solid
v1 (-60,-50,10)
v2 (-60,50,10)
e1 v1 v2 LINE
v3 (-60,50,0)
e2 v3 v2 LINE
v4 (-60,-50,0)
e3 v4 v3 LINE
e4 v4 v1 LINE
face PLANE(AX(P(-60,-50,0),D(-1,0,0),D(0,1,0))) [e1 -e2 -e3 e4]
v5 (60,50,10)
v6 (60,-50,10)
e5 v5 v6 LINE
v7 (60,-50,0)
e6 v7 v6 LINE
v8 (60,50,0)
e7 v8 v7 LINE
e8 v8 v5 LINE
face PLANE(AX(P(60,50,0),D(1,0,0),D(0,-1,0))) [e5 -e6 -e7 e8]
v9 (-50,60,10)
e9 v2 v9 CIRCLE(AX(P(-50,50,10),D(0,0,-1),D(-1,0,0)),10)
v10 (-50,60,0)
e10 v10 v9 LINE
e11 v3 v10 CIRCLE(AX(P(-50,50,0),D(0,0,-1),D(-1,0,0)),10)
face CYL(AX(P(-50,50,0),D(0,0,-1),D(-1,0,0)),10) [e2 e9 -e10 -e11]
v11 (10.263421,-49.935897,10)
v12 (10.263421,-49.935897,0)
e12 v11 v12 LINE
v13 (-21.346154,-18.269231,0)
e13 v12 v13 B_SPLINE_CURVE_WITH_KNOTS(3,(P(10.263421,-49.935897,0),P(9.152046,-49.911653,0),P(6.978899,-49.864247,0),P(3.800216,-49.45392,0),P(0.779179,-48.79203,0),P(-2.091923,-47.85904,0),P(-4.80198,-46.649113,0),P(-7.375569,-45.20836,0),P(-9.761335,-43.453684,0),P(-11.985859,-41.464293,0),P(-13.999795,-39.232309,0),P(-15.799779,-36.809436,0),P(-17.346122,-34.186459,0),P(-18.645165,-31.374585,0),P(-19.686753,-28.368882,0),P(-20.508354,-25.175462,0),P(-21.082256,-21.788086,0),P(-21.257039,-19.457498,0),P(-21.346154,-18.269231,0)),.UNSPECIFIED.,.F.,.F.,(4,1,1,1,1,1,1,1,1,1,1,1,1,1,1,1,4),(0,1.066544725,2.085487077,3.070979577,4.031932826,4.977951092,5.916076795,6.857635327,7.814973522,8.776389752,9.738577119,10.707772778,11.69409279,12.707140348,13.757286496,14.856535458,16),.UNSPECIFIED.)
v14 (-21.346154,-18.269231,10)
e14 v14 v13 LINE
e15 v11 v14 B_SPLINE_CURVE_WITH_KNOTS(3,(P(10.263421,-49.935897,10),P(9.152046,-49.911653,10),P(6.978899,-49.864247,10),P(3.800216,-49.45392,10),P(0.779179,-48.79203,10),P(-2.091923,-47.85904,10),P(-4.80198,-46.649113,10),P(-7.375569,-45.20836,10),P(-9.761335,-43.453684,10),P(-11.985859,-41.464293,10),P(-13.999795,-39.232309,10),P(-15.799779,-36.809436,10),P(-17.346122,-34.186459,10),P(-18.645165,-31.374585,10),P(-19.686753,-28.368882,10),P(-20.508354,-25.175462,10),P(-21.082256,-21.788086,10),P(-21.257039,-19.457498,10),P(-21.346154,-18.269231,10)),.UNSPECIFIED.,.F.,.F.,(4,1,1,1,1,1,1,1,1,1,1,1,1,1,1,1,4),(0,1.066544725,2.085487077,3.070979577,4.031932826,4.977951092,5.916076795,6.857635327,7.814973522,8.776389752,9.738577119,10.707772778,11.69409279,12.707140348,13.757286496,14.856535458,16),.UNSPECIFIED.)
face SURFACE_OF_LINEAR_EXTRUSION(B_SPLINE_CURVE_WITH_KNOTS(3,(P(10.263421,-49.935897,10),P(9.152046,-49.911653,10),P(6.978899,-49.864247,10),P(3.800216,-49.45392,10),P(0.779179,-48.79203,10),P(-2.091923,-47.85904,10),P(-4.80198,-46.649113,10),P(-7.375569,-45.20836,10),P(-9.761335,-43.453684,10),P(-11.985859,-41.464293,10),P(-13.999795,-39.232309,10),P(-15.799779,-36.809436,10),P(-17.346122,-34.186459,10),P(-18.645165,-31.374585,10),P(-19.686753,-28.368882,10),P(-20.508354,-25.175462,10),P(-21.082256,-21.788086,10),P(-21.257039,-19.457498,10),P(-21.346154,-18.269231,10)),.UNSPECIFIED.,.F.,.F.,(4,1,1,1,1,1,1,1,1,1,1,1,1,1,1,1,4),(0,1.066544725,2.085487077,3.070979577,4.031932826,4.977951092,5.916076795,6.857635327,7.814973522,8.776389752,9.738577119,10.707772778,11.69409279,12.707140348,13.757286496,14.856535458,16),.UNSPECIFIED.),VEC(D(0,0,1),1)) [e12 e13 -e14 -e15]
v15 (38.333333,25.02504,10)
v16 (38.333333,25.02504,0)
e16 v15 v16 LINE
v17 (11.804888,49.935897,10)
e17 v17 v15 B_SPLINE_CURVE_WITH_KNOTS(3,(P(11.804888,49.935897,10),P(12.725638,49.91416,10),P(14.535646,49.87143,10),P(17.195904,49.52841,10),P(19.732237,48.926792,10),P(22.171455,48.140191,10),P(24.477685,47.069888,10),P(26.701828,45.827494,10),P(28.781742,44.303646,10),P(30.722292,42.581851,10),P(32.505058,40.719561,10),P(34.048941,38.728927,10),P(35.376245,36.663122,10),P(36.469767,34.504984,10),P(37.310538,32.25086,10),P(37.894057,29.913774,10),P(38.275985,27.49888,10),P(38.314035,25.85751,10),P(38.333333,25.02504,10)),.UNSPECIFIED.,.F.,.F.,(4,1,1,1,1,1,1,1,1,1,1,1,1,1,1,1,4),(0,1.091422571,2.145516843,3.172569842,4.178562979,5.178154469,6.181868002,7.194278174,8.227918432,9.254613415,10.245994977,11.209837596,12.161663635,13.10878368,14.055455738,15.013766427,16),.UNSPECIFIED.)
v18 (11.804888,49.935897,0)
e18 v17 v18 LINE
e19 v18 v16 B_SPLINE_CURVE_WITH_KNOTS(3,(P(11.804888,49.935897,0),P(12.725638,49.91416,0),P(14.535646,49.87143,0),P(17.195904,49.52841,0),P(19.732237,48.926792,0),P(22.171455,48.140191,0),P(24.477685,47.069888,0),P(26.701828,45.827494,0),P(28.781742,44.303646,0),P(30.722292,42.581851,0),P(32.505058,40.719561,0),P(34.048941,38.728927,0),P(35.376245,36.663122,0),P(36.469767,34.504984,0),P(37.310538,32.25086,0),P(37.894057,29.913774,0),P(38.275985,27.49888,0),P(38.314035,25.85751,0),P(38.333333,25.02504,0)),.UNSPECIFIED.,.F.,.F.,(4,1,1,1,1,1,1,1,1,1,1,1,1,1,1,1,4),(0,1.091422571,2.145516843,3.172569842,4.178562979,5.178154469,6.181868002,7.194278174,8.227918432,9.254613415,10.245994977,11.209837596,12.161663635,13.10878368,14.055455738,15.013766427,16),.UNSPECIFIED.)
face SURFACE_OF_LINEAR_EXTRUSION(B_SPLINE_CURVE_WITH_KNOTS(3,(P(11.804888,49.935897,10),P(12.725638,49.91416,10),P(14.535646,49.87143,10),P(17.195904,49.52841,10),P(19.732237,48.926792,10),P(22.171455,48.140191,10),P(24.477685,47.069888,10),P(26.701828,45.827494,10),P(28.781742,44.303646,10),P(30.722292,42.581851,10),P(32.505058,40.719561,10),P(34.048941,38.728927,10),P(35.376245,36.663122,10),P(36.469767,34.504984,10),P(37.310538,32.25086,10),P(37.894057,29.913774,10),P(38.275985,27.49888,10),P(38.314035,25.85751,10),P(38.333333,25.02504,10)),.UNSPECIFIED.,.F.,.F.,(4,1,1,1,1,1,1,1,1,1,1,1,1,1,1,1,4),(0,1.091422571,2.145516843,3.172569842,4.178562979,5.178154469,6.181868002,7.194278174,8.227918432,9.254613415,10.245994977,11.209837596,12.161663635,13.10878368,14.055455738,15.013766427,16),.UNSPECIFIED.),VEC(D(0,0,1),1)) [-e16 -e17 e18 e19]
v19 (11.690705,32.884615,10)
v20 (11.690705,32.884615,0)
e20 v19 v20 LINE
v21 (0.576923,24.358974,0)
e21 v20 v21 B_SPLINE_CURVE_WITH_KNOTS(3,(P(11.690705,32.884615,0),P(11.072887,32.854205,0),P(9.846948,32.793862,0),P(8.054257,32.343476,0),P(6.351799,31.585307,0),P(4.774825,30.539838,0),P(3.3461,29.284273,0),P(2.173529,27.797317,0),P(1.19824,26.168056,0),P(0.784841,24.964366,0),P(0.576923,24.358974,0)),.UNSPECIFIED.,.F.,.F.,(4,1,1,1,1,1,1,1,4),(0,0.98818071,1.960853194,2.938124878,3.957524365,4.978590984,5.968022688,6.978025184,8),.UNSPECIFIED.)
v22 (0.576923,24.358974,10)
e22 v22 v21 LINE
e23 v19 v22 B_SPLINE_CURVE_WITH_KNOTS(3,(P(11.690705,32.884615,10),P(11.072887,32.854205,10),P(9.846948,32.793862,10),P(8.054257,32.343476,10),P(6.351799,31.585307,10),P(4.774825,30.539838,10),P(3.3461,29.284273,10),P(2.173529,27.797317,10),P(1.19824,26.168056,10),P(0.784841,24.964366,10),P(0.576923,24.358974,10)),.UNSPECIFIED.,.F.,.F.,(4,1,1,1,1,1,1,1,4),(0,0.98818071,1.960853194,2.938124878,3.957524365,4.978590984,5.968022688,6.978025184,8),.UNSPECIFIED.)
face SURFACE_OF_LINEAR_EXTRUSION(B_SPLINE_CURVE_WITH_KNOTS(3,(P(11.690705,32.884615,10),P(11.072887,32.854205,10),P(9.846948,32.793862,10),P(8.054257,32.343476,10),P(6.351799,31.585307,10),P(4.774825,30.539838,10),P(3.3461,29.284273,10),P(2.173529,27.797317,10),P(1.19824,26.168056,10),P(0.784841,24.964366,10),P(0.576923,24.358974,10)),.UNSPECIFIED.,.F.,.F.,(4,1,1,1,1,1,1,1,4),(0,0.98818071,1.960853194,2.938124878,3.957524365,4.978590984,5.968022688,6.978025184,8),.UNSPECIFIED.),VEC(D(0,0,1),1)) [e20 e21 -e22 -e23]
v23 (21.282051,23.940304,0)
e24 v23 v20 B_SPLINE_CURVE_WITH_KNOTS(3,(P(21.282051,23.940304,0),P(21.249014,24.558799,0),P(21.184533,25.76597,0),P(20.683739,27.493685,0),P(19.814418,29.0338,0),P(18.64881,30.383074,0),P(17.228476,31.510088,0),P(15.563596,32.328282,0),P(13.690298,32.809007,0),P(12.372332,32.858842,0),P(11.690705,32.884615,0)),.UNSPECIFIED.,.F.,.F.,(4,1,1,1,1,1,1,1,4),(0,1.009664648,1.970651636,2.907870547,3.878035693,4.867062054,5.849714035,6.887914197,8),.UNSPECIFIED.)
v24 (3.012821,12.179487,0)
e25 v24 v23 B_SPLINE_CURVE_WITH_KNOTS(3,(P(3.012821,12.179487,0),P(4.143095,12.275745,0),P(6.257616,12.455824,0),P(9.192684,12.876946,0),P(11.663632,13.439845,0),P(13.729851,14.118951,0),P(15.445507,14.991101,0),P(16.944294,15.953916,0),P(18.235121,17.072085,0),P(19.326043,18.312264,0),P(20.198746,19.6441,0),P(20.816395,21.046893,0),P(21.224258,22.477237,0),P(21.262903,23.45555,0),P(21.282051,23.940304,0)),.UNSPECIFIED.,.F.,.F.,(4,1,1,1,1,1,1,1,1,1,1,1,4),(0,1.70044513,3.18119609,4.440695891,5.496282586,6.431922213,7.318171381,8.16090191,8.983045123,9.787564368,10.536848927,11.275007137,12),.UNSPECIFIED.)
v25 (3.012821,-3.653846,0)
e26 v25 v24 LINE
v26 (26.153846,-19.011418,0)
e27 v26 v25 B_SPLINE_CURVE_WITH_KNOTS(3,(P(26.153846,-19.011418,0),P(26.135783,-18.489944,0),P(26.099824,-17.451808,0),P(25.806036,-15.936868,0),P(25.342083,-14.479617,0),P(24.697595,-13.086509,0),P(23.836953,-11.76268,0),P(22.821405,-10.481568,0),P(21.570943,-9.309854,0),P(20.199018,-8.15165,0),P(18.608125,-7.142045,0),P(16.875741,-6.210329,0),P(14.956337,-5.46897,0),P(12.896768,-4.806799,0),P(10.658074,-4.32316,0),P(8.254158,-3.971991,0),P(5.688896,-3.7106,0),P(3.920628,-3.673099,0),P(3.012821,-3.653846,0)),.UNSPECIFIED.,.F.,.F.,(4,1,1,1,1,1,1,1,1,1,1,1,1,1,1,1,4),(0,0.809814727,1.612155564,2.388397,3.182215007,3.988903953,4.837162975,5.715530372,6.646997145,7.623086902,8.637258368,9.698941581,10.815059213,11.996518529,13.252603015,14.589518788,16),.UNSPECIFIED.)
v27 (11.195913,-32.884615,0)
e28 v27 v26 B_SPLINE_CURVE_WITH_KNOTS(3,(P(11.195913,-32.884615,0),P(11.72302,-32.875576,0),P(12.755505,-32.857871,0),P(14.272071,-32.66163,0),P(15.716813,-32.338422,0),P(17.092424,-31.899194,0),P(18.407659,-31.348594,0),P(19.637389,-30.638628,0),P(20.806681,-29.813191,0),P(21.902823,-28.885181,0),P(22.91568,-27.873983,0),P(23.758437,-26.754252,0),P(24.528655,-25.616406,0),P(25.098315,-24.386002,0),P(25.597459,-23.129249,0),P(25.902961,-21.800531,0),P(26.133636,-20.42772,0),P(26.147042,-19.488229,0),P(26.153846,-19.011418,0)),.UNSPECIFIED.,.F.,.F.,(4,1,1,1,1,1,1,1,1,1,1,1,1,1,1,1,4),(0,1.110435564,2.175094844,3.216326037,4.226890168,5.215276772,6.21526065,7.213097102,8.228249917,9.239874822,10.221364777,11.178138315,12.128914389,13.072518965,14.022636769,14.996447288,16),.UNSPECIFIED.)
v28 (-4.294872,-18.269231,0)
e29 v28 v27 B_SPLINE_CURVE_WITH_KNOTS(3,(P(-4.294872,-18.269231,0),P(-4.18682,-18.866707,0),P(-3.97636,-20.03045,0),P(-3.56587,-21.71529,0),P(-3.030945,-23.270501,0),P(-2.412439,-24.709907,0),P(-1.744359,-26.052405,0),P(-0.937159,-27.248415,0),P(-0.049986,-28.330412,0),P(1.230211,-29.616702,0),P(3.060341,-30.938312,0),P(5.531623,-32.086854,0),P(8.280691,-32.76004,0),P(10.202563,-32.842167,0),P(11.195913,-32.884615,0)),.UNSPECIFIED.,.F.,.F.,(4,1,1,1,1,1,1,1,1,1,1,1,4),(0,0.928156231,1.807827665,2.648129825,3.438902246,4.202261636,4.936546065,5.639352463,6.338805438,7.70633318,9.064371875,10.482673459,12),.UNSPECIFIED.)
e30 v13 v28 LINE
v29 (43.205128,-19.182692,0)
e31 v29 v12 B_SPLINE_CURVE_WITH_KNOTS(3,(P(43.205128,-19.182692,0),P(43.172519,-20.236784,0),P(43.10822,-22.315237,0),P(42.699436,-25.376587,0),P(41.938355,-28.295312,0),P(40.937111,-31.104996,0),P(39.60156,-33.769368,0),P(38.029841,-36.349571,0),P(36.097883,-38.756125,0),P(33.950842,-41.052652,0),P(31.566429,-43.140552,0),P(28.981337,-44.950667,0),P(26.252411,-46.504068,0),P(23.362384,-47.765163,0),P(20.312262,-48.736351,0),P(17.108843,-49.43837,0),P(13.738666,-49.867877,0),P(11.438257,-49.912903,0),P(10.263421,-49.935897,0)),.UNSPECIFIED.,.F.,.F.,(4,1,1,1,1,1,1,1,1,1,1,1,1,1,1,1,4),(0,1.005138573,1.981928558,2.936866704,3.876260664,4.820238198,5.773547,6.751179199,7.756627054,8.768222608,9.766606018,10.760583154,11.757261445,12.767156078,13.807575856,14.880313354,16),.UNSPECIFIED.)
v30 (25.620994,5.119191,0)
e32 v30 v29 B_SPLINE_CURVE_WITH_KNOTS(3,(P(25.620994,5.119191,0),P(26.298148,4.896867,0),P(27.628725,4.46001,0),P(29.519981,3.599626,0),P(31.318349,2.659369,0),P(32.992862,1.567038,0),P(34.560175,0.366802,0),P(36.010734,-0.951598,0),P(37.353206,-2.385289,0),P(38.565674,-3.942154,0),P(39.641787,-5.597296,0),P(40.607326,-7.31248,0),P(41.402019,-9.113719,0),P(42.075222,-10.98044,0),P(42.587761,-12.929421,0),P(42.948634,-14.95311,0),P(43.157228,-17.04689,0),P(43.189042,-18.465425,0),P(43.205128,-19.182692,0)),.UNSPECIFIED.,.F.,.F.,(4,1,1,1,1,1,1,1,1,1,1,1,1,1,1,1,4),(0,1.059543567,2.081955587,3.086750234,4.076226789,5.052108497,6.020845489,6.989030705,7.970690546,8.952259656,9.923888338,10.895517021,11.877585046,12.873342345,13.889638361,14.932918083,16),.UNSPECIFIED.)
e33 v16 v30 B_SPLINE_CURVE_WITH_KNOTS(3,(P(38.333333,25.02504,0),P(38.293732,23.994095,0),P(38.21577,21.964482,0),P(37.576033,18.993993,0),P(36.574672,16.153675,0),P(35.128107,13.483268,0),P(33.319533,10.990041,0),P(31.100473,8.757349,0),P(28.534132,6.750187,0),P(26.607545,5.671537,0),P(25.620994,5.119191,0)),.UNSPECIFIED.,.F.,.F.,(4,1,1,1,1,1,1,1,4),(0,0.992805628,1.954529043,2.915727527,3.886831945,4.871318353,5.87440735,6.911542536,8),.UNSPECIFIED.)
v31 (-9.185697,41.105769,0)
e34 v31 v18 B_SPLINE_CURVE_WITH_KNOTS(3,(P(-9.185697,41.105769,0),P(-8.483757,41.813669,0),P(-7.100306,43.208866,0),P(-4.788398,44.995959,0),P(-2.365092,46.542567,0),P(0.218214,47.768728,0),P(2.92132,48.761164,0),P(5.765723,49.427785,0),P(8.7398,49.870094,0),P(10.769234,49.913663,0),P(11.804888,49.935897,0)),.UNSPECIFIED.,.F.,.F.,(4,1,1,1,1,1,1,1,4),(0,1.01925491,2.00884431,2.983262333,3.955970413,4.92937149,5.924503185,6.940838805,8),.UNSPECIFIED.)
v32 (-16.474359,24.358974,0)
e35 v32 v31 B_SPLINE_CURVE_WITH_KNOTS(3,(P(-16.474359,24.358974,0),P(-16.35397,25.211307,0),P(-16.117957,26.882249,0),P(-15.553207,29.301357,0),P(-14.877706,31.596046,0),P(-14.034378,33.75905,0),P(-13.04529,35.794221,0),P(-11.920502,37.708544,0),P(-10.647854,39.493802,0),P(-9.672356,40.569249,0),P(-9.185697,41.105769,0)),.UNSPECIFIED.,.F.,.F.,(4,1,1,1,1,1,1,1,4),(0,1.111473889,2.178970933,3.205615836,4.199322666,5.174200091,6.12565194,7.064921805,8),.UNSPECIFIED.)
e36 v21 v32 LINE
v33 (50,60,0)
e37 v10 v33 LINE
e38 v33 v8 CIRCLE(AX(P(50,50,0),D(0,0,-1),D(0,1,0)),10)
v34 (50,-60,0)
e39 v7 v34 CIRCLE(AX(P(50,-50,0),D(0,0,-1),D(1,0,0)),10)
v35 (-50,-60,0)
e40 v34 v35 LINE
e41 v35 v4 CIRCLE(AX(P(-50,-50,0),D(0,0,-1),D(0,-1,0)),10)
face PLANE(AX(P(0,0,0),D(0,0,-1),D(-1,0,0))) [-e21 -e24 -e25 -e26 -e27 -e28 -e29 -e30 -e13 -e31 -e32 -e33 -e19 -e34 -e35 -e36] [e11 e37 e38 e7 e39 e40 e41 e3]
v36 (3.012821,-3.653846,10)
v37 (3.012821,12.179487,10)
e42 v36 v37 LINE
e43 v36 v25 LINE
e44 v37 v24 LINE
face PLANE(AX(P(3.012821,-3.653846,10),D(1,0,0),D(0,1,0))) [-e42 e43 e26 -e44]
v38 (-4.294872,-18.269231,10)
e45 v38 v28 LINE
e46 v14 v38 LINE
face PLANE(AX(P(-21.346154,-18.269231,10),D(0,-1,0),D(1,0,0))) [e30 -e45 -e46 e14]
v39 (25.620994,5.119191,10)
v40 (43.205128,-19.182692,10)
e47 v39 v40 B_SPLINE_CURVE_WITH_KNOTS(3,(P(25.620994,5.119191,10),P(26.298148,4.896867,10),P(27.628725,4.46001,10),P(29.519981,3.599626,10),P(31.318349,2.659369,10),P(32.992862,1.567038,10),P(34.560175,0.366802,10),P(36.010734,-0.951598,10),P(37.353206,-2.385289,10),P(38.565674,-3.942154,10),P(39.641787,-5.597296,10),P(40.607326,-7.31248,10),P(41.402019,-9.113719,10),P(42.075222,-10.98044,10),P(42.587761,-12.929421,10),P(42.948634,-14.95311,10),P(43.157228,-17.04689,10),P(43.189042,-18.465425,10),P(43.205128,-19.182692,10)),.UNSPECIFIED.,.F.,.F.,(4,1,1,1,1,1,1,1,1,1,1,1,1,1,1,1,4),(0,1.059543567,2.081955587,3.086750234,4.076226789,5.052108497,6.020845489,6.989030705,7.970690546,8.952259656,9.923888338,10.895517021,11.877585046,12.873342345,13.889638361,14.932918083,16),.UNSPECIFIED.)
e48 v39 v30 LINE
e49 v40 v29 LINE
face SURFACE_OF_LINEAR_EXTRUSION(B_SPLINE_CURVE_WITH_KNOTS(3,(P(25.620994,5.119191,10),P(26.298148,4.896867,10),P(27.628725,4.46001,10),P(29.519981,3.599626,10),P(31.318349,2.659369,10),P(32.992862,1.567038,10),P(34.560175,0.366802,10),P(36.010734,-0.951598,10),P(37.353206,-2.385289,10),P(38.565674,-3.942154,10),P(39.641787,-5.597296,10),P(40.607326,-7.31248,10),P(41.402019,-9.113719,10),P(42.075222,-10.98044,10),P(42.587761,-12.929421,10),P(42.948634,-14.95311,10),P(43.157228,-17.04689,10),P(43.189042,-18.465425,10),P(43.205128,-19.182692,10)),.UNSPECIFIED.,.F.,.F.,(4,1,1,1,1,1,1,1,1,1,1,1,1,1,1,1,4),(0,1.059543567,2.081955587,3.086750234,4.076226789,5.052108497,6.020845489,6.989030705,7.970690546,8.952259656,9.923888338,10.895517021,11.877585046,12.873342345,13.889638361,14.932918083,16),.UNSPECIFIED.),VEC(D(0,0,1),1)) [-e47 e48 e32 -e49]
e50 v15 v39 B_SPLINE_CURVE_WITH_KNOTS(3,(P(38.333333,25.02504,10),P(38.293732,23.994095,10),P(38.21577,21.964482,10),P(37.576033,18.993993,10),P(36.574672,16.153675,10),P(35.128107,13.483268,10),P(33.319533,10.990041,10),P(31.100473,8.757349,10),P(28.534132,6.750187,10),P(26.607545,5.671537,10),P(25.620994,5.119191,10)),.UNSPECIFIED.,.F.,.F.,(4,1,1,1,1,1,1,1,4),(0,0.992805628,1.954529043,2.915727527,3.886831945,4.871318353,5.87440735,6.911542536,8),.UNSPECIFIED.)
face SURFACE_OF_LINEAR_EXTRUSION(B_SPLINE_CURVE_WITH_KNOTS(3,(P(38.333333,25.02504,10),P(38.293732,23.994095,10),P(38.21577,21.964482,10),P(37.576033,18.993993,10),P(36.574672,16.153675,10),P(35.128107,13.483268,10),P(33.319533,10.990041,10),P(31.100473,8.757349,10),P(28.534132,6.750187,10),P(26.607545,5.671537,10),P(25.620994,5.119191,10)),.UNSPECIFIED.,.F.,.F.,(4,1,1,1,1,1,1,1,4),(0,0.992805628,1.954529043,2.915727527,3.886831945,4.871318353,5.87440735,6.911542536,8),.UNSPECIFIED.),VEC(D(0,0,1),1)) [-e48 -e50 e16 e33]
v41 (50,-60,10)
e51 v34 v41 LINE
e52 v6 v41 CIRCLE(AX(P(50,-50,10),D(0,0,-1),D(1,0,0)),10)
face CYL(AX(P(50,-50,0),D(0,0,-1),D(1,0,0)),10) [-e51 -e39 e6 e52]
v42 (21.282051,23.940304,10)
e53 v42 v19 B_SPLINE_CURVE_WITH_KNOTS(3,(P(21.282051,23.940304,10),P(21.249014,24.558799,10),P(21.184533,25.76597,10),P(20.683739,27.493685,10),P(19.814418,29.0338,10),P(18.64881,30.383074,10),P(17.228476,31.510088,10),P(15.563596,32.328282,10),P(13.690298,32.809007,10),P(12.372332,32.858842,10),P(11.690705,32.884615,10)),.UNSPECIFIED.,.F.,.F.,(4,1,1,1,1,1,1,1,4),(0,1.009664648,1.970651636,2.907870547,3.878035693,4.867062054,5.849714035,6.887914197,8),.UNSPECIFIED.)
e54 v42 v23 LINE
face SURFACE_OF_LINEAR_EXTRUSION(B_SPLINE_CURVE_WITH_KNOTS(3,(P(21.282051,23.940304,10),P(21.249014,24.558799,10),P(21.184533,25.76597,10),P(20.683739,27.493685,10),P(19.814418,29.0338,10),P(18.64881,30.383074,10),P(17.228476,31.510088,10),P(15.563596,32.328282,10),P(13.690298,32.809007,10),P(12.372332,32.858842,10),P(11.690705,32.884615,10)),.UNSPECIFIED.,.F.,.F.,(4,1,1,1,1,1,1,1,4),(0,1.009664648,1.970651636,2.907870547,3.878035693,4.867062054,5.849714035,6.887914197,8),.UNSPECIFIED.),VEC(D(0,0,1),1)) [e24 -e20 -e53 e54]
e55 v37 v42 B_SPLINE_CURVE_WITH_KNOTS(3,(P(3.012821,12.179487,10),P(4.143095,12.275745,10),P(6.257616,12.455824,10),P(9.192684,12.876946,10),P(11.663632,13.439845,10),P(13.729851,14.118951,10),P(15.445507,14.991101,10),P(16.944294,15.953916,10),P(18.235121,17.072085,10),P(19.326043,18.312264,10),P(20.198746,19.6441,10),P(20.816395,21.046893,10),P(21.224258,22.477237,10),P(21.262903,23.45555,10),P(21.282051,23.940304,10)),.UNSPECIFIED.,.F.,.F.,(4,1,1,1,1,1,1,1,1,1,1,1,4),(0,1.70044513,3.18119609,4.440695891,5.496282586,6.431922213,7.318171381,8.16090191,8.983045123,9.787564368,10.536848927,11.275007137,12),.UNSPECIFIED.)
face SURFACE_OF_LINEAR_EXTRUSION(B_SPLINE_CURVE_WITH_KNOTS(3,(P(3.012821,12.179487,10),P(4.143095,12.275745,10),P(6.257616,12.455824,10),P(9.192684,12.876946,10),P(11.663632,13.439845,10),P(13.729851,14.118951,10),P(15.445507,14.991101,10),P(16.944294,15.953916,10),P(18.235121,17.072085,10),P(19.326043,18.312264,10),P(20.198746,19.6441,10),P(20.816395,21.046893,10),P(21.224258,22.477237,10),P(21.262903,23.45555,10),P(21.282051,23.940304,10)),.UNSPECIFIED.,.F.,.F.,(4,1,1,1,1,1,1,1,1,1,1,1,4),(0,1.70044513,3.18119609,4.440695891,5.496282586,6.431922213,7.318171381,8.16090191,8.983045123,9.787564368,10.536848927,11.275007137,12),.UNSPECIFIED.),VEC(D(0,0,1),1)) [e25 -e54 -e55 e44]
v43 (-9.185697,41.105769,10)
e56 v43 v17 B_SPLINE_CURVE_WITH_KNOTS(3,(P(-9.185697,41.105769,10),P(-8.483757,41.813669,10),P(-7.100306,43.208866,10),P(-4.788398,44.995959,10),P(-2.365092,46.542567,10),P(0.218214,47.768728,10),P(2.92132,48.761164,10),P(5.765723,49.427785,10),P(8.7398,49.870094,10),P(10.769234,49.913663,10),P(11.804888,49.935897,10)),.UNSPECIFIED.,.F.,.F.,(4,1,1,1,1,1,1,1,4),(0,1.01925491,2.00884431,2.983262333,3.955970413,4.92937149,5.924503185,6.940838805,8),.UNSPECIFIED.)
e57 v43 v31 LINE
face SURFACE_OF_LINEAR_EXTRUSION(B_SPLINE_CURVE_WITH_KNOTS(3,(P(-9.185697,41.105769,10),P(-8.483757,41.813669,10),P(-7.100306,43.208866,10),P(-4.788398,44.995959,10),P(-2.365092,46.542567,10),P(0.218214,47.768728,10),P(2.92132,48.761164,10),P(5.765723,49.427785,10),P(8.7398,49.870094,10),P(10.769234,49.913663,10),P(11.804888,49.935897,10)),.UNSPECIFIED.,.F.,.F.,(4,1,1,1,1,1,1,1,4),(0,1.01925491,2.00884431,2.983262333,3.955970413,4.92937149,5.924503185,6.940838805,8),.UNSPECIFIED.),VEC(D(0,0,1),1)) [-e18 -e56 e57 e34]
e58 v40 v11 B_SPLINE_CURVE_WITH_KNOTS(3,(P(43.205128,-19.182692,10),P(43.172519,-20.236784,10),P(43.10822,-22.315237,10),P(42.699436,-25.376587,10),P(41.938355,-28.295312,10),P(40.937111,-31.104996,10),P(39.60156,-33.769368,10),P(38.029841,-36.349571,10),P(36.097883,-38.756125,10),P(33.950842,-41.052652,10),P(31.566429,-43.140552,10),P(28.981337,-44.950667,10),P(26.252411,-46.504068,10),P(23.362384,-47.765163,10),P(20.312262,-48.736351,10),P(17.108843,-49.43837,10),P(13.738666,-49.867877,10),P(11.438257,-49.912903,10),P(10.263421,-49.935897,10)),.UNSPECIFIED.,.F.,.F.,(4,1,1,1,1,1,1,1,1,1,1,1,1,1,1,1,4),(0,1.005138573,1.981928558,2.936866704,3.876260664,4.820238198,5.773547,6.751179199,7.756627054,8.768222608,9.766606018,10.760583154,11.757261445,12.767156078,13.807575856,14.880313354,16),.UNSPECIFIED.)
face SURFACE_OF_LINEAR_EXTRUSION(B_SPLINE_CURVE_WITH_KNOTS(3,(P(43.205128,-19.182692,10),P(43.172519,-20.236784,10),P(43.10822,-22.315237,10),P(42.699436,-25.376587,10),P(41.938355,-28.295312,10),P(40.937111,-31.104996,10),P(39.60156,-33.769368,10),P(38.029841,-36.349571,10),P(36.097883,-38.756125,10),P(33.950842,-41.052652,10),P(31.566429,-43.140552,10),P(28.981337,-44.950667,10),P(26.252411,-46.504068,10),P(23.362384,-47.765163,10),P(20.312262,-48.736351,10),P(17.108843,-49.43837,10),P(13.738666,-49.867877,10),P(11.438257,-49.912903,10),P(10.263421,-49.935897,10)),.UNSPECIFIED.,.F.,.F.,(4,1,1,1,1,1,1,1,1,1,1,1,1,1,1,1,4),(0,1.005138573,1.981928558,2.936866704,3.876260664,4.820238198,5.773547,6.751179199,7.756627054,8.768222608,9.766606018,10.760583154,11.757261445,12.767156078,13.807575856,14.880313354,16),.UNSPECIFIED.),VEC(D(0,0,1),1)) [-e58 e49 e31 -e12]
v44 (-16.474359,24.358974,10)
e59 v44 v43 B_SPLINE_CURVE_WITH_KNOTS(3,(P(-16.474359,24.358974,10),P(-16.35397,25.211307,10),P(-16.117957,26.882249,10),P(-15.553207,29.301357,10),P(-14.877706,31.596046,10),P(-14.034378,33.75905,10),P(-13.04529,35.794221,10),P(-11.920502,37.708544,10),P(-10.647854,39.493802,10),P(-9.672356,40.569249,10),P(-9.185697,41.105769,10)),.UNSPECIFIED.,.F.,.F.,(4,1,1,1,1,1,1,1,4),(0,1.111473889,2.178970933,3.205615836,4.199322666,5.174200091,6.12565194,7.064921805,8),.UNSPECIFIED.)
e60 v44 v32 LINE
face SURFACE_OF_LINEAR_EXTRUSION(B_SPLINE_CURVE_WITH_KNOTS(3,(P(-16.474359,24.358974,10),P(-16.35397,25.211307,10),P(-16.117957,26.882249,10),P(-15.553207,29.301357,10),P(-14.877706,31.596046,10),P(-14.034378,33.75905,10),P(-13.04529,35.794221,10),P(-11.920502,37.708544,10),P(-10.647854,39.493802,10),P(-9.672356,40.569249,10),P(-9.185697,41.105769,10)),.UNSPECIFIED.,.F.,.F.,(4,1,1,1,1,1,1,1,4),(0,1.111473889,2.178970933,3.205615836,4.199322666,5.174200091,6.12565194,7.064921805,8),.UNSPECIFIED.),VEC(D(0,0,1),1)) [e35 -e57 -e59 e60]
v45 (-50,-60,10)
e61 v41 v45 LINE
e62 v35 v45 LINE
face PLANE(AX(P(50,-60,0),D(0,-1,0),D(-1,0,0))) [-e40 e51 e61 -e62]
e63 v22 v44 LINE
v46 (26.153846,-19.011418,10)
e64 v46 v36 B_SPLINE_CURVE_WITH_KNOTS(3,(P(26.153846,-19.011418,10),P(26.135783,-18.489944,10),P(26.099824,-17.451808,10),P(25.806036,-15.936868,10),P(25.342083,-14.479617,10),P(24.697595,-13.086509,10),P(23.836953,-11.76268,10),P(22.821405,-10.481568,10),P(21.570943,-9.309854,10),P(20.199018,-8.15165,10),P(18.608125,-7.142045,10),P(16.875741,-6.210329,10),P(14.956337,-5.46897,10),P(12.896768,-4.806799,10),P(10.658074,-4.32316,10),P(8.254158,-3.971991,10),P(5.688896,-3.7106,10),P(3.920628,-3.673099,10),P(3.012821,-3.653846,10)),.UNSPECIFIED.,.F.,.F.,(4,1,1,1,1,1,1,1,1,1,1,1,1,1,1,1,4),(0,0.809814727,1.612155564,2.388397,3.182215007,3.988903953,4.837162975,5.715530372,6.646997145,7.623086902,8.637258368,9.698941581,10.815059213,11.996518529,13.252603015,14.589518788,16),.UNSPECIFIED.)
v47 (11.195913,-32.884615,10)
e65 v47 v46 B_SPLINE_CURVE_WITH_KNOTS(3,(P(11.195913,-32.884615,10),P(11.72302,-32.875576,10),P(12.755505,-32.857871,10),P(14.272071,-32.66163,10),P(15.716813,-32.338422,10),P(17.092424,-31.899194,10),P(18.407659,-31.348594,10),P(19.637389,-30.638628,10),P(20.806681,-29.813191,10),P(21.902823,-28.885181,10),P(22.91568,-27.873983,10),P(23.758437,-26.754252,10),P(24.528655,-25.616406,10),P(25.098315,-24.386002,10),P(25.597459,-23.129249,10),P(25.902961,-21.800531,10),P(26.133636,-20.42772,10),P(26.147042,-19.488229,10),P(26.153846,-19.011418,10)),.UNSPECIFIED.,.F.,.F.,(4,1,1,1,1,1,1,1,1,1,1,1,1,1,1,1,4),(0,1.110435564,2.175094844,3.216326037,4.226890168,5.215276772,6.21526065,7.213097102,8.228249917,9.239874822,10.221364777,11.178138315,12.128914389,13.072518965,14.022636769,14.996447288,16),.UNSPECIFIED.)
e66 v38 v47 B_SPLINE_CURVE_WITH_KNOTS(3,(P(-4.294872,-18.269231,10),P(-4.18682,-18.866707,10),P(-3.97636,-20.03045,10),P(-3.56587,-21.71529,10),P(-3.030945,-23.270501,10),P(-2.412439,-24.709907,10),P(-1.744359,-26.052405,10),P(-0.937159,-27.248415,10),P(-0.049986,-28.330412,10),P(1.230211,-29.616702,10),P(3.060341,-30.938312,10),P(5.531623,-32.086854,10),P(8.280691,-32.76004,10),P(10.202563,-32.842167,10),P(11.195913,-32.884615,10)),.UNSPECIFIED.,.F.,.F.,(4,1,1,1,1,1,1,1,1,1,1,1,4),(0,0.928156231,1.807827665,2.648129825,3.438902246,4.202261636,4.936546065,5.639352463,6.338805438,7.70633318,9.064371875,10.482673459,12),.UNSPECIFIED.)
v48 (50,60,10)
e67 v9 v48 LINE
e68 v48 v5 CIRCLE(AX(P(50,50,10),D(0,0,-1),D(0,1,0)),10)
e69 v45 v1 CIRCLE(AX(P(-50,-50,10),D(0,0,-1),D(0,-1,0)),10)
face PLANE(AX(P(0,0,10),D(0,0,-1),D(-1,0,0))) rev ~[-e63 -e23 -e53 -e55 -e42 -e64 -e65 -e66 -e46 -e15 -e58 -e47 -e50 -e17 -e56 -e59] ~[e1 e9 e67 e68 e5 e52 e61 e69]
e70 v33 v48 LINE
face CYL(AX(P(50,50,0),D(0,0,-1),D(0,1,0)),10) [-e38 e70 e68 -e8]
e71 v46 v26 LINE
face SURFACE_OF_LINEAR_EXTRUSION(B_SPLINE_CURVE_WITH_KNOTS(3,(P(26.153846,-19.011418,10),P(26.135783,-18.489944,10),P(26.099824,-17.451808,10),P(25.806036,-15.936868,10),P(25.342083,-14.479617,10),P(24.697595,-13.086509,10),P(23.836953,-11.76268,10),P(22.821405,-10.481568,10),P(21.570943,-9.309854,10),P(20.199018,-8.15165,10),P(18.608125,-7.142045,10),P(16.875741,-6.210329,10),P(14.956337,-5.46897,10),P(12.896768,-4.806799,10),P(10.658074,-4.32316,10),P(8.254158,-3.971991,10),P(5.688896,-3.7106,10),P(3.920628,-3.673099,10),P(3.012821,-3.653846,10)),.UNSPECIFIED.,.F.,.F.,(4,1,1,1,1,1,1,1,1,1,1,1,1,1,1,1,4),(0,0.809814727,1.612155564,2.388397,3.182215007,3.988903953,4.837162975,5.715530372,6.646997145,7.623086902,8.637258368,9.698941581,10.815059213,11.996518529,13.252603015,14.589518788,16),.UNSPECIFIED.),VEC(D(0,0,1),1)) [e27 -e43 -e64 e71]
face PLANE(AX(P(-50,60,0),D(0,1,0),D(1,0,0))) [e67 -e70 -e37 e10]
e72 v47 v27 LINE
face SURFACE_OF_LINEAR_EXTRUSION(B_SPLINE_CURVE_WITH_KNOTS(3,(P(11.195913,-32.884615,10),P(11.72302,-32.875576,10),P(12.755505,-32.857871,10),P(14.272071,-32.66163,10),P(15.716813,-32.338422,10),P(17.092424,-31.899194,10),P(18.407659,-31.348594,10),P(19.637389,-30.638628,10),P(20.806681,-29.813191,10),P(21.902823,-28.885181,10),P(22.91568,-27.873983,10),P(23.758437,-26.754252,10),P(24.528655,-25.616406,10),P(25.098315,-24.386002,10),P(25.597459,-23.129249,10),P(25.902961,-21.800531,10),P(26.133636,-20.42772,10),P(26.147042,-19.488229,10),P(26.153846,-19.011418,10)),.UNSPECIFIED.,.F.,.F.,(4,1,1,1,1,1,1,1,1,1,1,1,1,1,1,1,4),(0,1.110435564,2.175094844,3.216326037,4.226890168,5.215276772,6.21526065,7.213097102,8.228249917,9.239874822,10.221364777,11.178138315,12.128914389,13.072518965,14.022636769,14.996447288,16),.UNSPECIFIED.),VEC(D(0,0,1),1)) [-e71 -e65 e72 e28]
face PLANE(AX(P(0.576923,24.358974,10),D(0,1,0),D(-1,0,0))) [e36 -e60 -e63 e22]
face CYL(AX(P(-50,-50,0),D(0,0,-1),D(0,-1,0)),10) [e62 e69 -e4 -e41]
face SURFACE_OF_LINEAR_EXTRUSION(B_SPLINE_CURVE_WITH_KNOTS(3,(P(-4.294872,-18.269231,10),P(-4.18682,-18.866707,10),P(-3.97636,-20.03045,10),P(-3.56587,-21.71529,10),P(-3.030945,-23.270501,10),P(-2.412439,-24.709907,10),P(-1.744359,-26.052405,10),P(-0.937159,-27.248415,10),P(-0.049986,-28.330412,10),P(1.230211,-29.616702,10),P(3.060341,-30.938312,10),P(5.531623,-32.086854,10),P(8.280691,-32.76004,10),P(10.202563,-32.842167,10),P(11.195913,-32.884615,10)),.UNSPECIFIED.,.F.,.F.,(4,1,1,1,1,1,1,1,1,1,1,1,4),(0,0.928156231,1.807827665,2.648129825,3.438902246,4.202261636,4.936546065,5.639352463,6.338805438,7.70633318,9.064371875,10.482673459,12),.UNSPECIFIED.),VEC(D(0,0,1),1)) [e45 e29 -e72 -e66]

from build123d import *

# Parameters (mm, degrees)
BOSS_EXTRUDE1_DEPTH = 10
CUT_EXTRUDE1_DEPTH  = 10


with BuildPart() as part:
    # Sketch1 → Boss-Extrude1 (new body)
    with BuildSketch(Plane.XY):
        with BuildLine():
            Line((-50, 60), (50, 60))
            ThreePointArc((50, 60), (57.071067812, 57.071067812), (60, 50))
            Line((60, 50), (60, -50))
            ThreePointArc((60, -50), (57.071067812, -57.071067812), (50, -60))
            Line((50, -60), (-50, -60))
            ThreePointArc((-50, -60), (-57.071067812, -57.071067812), (-60, -50))
            Line((-60, -50), (-60, 50))
            ThreePointArc((-60, 50), (-57.071067812, 57.071067812), (-50, 60))
        make_face()
    extrude(amount=BOSS_EXTRUDE1_DEPTH)

    # Sketch2 → Cut-Extrude1 (cut)
    with BuildSketch(Plane.XY.offset(10)):
        with BuildLine():
            Line((0.576923077, 24.358974359), (-16.474358974, 24.358974359))
            add(Edge.make_bspline(
                [(-16.474358974, 24.358974359), (-16.353970438, 25.211307119), (-16.117956688, 26.882249036), (-15.553207348, 29.301356677), (-14.877706194, 31.596045832), (-14.034377515, 33.75904969), (-13.045290174, 35.794221276), (-11.920502083, 37.708544306), (-10.647853859, 39.493802146), (-9.672355516, 40.569248555), (-9.185697115, 41.105769231)],
                knots=[0, 0, 0, 0, 1.111473889, 2.178970933, 3.205615836, 4.199322666, 5.174200091, 6.12565194, 7.064921805, 8, 8, 8, 8], degree=3))
            add(Edge.make_bspline(
                [(-9.185697115, 41.105769231), (-8.483756858, 41.813669386), (-7.10030638, 43.208866194), (-4.788398372, 44.995959193), (-2.365091827, 46.542566651), (0.218213736, 47.768728226), (2.92132013, 48.761163974), (5.765723399, 49.427785309), (8.739800279, 49.87009445), (10.769233604, 49.913663441), (11.804887821, 49.935897436)],
                knots=[0, 0, 0, 0, 1.01925491, 2.00884431, 2.983262333, 3.955970413, 4.92937149, 5.924503185, 6.940838805, 8, 8, 8, 8], degree=3))
            add(Edge.make_bspline(
                [(11.804887821, 49.935897436), (12.725637707, 49.914160335), (14.535646445, 49.871429576), (17.19590386, 49.528410226), (19.732236676, 48.926792485), (22.171454673, 48.140190789), (24.477684901, 47.069887718), (26.701828098, 45.82749366), (28.781741625, 44.303645718), (30.722292085, 42.581850898), (32.505057791, 40.719561249), (34.048940704, 38.728926766), (35.376244548, 36.663121884), (36.469767354, 34.504983674), (37.31053779, 32.250860305), (37.894057408, 29.913773543), (38.275985165, 27.498880346), (38.31403515, 25.857509967), (38.333333333, 25.025040064)],
                knots=[0, 0, 0, 0, 1.091422571, 2.145516843, 3.172569842, 4.178562979, 5.178154469, 6.181868002, 7.194278174, 8.227918432, 9.254613415, 10.245994977, 11.209837596, 12.161663635, 13.10878368, 14.055455738, 15.013766427, 16, 16, 16, 16], degree=3))
            add(Edge.make_bspline(
                [(38.333333333, 25.025040064), (38.293732308, 23.994095409), (38.215770063, 21.964482346), (37.576033403, 18.993992832), (36.574671568, 16.153674752), (35.128107, 13.483268429), (33.319532856, 10.990041205), (31.100472953, 8.757349154), (28.534131878, 6.750186691), (26.607545449, 5.671537337), (25.62099359, 5.119190705)],
                knots=[0, 0, 0, 0, 0.992805628, 1.954529043, 2.915727527, 3.886831945, 4.871318353, 5.87440735, 6.911542536, 8, 8, 8, 8], degree=3))
            add(Edge.make_bspline(
                [(25.62099359, 5.119190705), (26.298147652, 4.896866769), (27.628725011, 4.460010206), (29.51998074, 3.599626149), (31.31834883, 2.659368988), (32.99286203, 1.567038026), (34.560175394, 0.366802286), (36.010734394, -0.951598279), (37.353205786, -2.385288944), (38.565674269, -3.942154462), (39.641787421, -5.5972958), (40.607326451, -7.312480175), (41.402018895, -9.113718663), (42.07522233, -10.980439908), (42.587761098, -12.929421022), (42.94863419, -14.953109858), (43.157227694, -17.046890251), (43.189041761, -18.465425199), (43.205128205, -19.182692308)],
                knots=[0, 0, 0, 0, 1.059543567, 2.081955587, 3.086750234, 4.076226789, 5.052108497, 6.020845489, 6.989030705, 7.970690546, 8.952259656, 9.923888338, 10.895517021, 11.877585046, 12.873342345, 13.889638361, 14.932918083, 16, 16, 16, 16], degree=3))
            add(Edge.make_bspline(
                [(43.205128205, -19.182692308), (43.17251882, -20.236783738), (43.108219755, -22.315237362), (42.699436391, -25.376586846), (41.938355422, -28.295311592), (40.937111249, -31.104995931), (39.601560188, -33.769367864), (38.029841121, -36.34957109), (36.097882591, -38.756124872), (33.950842418, -41.052652256), (31.566429135, -43.140552122), (28.981337229, -44.950667352), (26.252410658, -46.504068279), (23.362384275, -47.765163409), (20.312262141, -48.736350893), (17.108842711, -49.438369972), (13.738666093, -49.86787686), (11.438256871, -49.912902514), (10.263421474, -49.935897436)],
                knots=[0, 0, 0, 0, 1.005138573, 1.981928558, 2.936866704, 3.876260664, 4.820238198, 5.773547, 6.751179199, 7.756627054, 8.768222608, 9.766606018, 10.760583154, 11.757261445, 12.767156078, 13.807575856, 14.880313354, 16, 16, 16, 16], degree=3))
            add(Edge.make_bspline(
                [(10.263421474, -49.935897436), (9.152046138, -49.911653178), (6.978898733, -49.86424674), (3.800215835, -49.453919993), (0.779178625, -48.792029652), (-2.09192263, -47.859040331), (-4.801979884, -46.649112625), (-7.375568975, -45.208360206), (-9.761334505, -43.453683826), (-11.985858603, -41.464292892), (-13.999794607, -39.232309222), (-15.799779124, -36.809435607), (-17.34612218, -34.186458852), (-18.645165347, -31.374585409), (-19.686753045, -28.368882405), (-20.508354364, -25.175462089), (-21.082256332, -21.788085508), (-21.25703938, -19.457498358), (-21.346153846, -18.269230769)],
                knots=[0, 0, 0, 0, 1.066544725, 2.085487077, 3.070979577, 4.031932826, 4.977951092, 5.916076795, 6.857635327, 7.814973522, 8.776389752, 9.738577119, 10.707772778, 11.69409279, 12.707140348, 13.757286496, 14.856535458, 16, 16, 16, 16], degree=3))
            Line((-21.346153846, -18.269230769), (-4.294871795, -18.269230769))
            add(Edge.make_bspline(
                [(-4.294871795, -18.269230769), (-4.186819599, -18.866707312), (-3.97635961, -20.030449564), (-3.56587031, -21.715289641), (-3.030945483, -23.270501097), (-2.412439293, -24.709906604), (-1.744359491, -26.052405056), (-0.937159331, -27.248414671), (-0.049986198, -28.330412012), (1.2302111, -29.616702375), (3.060341313, -30.938312023), (5.531623414, -32.086853681), (8.280690724, -32.7600402), (10.202562942, -32.842166887), (11.195913462, -32.884615385)],
                knots=[0, 0, 0, 0, 0.928156231, 1.807827665, 2.648129825, 3.438902246, 4.202261636, 4.936546065, 5.639352463, 6.338805438, 7.70633318, 9.064371875, 10.482673459, 12, 12, 12, 12], degree=3))
            add(Edge.make_bspline(
                [(11.195913462, -32.884615385), (11.723020359, -32.875576377), (12.755504848, -32.857870983), (14.272070822, -32.661630398), (15.716813447, -32.338422007), (17.092423634, -31.899193782), (18.407658596, -31.34859374), (19.637389454, -30.638627935), (20.8066812, -29.813191335), (21.902822566, -28.885181468), (22.915679777, -27.873982913), (23.758436542, -26.754252311), (24.528655243, -25.616405886), (25.098314545, -24.386001717), (25.597458818, -23.129248692), (25.902960612, -21.800530617), (26.133636405, -20.427720421), (26.147042356, -19.488229388), (26.153846154, -19.011418269)],
                knots=[0, 0, 0, 0, 1.110435564, 2.175094844, 3.216326037, 4.226890168, 5.215276772, 6.21526065, 7.213097102, 8.228249917, 9.239874822, 10.221364777, 11.178138315, 12.128914389, 13.072518965, 14.022636769, 14.996447288, 16, 16, 16, 16], degree=3))
            add(Edge.make_bspline(
                [(26.153846154, -19.011418269), (26.135783345, -18.489944075), (26.099824432, -17.451808443), (25.806036347, -15.936867778), (25.342082867, -14.479616956), (24.697594812, -13.086509368), (23.836952841, -11.762679732), (22.821404918, -10.481568019), (21.570942657, -9.309853806), (20.199018093, -8.151649816), (18.608124558, -7.142045251), (16.8757408, -6.210328579), (14.956337088, -5.468969755), (12.896767777, -4.806799007), (10.658074191, -4.323159778), (8.254157787, -3.971990559), (5.688896433, -3.710599501), (3.920628445, -3.673098649), (3.012820513, -3.653846154)],
                knots=[0, 0, 0, 0, 0.809814727, 1.612155564, 2.388397, 3.182215007, 3.988903953, 4.837162975, 5.715530372, 6.646997145, 7.623086902, 8.637258368, 9.698941581, 10.815059213, 11.996518529, 13.252603015, 14.589518788, 16, 16, 16, 16], degree=3))
            Line((3.012820513, -3.653846154), (3.012820513, 12.179487179))
            add(Edge.make_bspline(
                [(3.012820513, 12.179487179), (4.143095378, 12.275745003), (6.257615816, 12.455824329), (9.192683563, 12.876946094), (11.663632261, 13.439844668), (13.729851196, 14.118951328), (15.445507012, 14.991101207), (16.944294459, 15.953916158), (18.235121106, 17.072085016), (19.326042778, 18.312264133), (20.198746175, 19.644100211), (20.816394798, 21.04689257), (21.22425768, 22.477237082), (21.262902657, 23.455549618), (21.282051282, 23.940304487)],
                knots=[0, 0, 0, 0, 1.70044513, 3.18119609, 4.440695891, 5.496282586, 6.431922213, 7.318171381, 8.16090191, 8.983045123, 9.787564368, 10.536848927, 11.275007137, 12, 12, 12, 12], degree=3))
            add(Edge.make_bspline(
                [(21.282051282, 23.940304487), (21.249014421, 24.558799065), (21.184533463, 25.76596954), (20.683739411, 27.493684792), (19.814417678, 29.033799739), (18.648809879, 30.383073548), (17.228476249, 31.510088157), (15.563596248, 32.328281547), (13.690297868, 32.809006698), (12.37233152, 32.858841698), (11.690705128, 32.884615385)],
                knots=[0, 0, 0, 0, 1.009664648, 1.970651636, 2.907870547, 3.878035693, 4.867062054, 5.849714035, 6.887914197, 8, 8, 8, 8], degree=3))
            add(Edge.make_bspline(
                [(11.690705128, 32.884615385), (11.072887442, 32.854205145), (9.846947924, 32.793861915), (8.05425741, 32.343476035), (6.351798685, 31.585307457), (4.774824861, 30.539837669), (3.346099876, 29.284272772), (2.173528872, 27.797316766), (1.198239906, 26.168055763), (0.784840597, 24.964365524), (0.576923077, 24.358974359)],
                knots=[0, 0, 0, 0, 0.98818071, 1.960853194, 2.938124878, 3.957524365, 4.978590984, 5.968022688, 6.978025184, 8, 8, 8, 8], degree=3))
        make_face()
    extrude(amount=-CUT_EXTRUDE1_DEPTH, mode=Mode.SUBTRACT)


solid = part.part
